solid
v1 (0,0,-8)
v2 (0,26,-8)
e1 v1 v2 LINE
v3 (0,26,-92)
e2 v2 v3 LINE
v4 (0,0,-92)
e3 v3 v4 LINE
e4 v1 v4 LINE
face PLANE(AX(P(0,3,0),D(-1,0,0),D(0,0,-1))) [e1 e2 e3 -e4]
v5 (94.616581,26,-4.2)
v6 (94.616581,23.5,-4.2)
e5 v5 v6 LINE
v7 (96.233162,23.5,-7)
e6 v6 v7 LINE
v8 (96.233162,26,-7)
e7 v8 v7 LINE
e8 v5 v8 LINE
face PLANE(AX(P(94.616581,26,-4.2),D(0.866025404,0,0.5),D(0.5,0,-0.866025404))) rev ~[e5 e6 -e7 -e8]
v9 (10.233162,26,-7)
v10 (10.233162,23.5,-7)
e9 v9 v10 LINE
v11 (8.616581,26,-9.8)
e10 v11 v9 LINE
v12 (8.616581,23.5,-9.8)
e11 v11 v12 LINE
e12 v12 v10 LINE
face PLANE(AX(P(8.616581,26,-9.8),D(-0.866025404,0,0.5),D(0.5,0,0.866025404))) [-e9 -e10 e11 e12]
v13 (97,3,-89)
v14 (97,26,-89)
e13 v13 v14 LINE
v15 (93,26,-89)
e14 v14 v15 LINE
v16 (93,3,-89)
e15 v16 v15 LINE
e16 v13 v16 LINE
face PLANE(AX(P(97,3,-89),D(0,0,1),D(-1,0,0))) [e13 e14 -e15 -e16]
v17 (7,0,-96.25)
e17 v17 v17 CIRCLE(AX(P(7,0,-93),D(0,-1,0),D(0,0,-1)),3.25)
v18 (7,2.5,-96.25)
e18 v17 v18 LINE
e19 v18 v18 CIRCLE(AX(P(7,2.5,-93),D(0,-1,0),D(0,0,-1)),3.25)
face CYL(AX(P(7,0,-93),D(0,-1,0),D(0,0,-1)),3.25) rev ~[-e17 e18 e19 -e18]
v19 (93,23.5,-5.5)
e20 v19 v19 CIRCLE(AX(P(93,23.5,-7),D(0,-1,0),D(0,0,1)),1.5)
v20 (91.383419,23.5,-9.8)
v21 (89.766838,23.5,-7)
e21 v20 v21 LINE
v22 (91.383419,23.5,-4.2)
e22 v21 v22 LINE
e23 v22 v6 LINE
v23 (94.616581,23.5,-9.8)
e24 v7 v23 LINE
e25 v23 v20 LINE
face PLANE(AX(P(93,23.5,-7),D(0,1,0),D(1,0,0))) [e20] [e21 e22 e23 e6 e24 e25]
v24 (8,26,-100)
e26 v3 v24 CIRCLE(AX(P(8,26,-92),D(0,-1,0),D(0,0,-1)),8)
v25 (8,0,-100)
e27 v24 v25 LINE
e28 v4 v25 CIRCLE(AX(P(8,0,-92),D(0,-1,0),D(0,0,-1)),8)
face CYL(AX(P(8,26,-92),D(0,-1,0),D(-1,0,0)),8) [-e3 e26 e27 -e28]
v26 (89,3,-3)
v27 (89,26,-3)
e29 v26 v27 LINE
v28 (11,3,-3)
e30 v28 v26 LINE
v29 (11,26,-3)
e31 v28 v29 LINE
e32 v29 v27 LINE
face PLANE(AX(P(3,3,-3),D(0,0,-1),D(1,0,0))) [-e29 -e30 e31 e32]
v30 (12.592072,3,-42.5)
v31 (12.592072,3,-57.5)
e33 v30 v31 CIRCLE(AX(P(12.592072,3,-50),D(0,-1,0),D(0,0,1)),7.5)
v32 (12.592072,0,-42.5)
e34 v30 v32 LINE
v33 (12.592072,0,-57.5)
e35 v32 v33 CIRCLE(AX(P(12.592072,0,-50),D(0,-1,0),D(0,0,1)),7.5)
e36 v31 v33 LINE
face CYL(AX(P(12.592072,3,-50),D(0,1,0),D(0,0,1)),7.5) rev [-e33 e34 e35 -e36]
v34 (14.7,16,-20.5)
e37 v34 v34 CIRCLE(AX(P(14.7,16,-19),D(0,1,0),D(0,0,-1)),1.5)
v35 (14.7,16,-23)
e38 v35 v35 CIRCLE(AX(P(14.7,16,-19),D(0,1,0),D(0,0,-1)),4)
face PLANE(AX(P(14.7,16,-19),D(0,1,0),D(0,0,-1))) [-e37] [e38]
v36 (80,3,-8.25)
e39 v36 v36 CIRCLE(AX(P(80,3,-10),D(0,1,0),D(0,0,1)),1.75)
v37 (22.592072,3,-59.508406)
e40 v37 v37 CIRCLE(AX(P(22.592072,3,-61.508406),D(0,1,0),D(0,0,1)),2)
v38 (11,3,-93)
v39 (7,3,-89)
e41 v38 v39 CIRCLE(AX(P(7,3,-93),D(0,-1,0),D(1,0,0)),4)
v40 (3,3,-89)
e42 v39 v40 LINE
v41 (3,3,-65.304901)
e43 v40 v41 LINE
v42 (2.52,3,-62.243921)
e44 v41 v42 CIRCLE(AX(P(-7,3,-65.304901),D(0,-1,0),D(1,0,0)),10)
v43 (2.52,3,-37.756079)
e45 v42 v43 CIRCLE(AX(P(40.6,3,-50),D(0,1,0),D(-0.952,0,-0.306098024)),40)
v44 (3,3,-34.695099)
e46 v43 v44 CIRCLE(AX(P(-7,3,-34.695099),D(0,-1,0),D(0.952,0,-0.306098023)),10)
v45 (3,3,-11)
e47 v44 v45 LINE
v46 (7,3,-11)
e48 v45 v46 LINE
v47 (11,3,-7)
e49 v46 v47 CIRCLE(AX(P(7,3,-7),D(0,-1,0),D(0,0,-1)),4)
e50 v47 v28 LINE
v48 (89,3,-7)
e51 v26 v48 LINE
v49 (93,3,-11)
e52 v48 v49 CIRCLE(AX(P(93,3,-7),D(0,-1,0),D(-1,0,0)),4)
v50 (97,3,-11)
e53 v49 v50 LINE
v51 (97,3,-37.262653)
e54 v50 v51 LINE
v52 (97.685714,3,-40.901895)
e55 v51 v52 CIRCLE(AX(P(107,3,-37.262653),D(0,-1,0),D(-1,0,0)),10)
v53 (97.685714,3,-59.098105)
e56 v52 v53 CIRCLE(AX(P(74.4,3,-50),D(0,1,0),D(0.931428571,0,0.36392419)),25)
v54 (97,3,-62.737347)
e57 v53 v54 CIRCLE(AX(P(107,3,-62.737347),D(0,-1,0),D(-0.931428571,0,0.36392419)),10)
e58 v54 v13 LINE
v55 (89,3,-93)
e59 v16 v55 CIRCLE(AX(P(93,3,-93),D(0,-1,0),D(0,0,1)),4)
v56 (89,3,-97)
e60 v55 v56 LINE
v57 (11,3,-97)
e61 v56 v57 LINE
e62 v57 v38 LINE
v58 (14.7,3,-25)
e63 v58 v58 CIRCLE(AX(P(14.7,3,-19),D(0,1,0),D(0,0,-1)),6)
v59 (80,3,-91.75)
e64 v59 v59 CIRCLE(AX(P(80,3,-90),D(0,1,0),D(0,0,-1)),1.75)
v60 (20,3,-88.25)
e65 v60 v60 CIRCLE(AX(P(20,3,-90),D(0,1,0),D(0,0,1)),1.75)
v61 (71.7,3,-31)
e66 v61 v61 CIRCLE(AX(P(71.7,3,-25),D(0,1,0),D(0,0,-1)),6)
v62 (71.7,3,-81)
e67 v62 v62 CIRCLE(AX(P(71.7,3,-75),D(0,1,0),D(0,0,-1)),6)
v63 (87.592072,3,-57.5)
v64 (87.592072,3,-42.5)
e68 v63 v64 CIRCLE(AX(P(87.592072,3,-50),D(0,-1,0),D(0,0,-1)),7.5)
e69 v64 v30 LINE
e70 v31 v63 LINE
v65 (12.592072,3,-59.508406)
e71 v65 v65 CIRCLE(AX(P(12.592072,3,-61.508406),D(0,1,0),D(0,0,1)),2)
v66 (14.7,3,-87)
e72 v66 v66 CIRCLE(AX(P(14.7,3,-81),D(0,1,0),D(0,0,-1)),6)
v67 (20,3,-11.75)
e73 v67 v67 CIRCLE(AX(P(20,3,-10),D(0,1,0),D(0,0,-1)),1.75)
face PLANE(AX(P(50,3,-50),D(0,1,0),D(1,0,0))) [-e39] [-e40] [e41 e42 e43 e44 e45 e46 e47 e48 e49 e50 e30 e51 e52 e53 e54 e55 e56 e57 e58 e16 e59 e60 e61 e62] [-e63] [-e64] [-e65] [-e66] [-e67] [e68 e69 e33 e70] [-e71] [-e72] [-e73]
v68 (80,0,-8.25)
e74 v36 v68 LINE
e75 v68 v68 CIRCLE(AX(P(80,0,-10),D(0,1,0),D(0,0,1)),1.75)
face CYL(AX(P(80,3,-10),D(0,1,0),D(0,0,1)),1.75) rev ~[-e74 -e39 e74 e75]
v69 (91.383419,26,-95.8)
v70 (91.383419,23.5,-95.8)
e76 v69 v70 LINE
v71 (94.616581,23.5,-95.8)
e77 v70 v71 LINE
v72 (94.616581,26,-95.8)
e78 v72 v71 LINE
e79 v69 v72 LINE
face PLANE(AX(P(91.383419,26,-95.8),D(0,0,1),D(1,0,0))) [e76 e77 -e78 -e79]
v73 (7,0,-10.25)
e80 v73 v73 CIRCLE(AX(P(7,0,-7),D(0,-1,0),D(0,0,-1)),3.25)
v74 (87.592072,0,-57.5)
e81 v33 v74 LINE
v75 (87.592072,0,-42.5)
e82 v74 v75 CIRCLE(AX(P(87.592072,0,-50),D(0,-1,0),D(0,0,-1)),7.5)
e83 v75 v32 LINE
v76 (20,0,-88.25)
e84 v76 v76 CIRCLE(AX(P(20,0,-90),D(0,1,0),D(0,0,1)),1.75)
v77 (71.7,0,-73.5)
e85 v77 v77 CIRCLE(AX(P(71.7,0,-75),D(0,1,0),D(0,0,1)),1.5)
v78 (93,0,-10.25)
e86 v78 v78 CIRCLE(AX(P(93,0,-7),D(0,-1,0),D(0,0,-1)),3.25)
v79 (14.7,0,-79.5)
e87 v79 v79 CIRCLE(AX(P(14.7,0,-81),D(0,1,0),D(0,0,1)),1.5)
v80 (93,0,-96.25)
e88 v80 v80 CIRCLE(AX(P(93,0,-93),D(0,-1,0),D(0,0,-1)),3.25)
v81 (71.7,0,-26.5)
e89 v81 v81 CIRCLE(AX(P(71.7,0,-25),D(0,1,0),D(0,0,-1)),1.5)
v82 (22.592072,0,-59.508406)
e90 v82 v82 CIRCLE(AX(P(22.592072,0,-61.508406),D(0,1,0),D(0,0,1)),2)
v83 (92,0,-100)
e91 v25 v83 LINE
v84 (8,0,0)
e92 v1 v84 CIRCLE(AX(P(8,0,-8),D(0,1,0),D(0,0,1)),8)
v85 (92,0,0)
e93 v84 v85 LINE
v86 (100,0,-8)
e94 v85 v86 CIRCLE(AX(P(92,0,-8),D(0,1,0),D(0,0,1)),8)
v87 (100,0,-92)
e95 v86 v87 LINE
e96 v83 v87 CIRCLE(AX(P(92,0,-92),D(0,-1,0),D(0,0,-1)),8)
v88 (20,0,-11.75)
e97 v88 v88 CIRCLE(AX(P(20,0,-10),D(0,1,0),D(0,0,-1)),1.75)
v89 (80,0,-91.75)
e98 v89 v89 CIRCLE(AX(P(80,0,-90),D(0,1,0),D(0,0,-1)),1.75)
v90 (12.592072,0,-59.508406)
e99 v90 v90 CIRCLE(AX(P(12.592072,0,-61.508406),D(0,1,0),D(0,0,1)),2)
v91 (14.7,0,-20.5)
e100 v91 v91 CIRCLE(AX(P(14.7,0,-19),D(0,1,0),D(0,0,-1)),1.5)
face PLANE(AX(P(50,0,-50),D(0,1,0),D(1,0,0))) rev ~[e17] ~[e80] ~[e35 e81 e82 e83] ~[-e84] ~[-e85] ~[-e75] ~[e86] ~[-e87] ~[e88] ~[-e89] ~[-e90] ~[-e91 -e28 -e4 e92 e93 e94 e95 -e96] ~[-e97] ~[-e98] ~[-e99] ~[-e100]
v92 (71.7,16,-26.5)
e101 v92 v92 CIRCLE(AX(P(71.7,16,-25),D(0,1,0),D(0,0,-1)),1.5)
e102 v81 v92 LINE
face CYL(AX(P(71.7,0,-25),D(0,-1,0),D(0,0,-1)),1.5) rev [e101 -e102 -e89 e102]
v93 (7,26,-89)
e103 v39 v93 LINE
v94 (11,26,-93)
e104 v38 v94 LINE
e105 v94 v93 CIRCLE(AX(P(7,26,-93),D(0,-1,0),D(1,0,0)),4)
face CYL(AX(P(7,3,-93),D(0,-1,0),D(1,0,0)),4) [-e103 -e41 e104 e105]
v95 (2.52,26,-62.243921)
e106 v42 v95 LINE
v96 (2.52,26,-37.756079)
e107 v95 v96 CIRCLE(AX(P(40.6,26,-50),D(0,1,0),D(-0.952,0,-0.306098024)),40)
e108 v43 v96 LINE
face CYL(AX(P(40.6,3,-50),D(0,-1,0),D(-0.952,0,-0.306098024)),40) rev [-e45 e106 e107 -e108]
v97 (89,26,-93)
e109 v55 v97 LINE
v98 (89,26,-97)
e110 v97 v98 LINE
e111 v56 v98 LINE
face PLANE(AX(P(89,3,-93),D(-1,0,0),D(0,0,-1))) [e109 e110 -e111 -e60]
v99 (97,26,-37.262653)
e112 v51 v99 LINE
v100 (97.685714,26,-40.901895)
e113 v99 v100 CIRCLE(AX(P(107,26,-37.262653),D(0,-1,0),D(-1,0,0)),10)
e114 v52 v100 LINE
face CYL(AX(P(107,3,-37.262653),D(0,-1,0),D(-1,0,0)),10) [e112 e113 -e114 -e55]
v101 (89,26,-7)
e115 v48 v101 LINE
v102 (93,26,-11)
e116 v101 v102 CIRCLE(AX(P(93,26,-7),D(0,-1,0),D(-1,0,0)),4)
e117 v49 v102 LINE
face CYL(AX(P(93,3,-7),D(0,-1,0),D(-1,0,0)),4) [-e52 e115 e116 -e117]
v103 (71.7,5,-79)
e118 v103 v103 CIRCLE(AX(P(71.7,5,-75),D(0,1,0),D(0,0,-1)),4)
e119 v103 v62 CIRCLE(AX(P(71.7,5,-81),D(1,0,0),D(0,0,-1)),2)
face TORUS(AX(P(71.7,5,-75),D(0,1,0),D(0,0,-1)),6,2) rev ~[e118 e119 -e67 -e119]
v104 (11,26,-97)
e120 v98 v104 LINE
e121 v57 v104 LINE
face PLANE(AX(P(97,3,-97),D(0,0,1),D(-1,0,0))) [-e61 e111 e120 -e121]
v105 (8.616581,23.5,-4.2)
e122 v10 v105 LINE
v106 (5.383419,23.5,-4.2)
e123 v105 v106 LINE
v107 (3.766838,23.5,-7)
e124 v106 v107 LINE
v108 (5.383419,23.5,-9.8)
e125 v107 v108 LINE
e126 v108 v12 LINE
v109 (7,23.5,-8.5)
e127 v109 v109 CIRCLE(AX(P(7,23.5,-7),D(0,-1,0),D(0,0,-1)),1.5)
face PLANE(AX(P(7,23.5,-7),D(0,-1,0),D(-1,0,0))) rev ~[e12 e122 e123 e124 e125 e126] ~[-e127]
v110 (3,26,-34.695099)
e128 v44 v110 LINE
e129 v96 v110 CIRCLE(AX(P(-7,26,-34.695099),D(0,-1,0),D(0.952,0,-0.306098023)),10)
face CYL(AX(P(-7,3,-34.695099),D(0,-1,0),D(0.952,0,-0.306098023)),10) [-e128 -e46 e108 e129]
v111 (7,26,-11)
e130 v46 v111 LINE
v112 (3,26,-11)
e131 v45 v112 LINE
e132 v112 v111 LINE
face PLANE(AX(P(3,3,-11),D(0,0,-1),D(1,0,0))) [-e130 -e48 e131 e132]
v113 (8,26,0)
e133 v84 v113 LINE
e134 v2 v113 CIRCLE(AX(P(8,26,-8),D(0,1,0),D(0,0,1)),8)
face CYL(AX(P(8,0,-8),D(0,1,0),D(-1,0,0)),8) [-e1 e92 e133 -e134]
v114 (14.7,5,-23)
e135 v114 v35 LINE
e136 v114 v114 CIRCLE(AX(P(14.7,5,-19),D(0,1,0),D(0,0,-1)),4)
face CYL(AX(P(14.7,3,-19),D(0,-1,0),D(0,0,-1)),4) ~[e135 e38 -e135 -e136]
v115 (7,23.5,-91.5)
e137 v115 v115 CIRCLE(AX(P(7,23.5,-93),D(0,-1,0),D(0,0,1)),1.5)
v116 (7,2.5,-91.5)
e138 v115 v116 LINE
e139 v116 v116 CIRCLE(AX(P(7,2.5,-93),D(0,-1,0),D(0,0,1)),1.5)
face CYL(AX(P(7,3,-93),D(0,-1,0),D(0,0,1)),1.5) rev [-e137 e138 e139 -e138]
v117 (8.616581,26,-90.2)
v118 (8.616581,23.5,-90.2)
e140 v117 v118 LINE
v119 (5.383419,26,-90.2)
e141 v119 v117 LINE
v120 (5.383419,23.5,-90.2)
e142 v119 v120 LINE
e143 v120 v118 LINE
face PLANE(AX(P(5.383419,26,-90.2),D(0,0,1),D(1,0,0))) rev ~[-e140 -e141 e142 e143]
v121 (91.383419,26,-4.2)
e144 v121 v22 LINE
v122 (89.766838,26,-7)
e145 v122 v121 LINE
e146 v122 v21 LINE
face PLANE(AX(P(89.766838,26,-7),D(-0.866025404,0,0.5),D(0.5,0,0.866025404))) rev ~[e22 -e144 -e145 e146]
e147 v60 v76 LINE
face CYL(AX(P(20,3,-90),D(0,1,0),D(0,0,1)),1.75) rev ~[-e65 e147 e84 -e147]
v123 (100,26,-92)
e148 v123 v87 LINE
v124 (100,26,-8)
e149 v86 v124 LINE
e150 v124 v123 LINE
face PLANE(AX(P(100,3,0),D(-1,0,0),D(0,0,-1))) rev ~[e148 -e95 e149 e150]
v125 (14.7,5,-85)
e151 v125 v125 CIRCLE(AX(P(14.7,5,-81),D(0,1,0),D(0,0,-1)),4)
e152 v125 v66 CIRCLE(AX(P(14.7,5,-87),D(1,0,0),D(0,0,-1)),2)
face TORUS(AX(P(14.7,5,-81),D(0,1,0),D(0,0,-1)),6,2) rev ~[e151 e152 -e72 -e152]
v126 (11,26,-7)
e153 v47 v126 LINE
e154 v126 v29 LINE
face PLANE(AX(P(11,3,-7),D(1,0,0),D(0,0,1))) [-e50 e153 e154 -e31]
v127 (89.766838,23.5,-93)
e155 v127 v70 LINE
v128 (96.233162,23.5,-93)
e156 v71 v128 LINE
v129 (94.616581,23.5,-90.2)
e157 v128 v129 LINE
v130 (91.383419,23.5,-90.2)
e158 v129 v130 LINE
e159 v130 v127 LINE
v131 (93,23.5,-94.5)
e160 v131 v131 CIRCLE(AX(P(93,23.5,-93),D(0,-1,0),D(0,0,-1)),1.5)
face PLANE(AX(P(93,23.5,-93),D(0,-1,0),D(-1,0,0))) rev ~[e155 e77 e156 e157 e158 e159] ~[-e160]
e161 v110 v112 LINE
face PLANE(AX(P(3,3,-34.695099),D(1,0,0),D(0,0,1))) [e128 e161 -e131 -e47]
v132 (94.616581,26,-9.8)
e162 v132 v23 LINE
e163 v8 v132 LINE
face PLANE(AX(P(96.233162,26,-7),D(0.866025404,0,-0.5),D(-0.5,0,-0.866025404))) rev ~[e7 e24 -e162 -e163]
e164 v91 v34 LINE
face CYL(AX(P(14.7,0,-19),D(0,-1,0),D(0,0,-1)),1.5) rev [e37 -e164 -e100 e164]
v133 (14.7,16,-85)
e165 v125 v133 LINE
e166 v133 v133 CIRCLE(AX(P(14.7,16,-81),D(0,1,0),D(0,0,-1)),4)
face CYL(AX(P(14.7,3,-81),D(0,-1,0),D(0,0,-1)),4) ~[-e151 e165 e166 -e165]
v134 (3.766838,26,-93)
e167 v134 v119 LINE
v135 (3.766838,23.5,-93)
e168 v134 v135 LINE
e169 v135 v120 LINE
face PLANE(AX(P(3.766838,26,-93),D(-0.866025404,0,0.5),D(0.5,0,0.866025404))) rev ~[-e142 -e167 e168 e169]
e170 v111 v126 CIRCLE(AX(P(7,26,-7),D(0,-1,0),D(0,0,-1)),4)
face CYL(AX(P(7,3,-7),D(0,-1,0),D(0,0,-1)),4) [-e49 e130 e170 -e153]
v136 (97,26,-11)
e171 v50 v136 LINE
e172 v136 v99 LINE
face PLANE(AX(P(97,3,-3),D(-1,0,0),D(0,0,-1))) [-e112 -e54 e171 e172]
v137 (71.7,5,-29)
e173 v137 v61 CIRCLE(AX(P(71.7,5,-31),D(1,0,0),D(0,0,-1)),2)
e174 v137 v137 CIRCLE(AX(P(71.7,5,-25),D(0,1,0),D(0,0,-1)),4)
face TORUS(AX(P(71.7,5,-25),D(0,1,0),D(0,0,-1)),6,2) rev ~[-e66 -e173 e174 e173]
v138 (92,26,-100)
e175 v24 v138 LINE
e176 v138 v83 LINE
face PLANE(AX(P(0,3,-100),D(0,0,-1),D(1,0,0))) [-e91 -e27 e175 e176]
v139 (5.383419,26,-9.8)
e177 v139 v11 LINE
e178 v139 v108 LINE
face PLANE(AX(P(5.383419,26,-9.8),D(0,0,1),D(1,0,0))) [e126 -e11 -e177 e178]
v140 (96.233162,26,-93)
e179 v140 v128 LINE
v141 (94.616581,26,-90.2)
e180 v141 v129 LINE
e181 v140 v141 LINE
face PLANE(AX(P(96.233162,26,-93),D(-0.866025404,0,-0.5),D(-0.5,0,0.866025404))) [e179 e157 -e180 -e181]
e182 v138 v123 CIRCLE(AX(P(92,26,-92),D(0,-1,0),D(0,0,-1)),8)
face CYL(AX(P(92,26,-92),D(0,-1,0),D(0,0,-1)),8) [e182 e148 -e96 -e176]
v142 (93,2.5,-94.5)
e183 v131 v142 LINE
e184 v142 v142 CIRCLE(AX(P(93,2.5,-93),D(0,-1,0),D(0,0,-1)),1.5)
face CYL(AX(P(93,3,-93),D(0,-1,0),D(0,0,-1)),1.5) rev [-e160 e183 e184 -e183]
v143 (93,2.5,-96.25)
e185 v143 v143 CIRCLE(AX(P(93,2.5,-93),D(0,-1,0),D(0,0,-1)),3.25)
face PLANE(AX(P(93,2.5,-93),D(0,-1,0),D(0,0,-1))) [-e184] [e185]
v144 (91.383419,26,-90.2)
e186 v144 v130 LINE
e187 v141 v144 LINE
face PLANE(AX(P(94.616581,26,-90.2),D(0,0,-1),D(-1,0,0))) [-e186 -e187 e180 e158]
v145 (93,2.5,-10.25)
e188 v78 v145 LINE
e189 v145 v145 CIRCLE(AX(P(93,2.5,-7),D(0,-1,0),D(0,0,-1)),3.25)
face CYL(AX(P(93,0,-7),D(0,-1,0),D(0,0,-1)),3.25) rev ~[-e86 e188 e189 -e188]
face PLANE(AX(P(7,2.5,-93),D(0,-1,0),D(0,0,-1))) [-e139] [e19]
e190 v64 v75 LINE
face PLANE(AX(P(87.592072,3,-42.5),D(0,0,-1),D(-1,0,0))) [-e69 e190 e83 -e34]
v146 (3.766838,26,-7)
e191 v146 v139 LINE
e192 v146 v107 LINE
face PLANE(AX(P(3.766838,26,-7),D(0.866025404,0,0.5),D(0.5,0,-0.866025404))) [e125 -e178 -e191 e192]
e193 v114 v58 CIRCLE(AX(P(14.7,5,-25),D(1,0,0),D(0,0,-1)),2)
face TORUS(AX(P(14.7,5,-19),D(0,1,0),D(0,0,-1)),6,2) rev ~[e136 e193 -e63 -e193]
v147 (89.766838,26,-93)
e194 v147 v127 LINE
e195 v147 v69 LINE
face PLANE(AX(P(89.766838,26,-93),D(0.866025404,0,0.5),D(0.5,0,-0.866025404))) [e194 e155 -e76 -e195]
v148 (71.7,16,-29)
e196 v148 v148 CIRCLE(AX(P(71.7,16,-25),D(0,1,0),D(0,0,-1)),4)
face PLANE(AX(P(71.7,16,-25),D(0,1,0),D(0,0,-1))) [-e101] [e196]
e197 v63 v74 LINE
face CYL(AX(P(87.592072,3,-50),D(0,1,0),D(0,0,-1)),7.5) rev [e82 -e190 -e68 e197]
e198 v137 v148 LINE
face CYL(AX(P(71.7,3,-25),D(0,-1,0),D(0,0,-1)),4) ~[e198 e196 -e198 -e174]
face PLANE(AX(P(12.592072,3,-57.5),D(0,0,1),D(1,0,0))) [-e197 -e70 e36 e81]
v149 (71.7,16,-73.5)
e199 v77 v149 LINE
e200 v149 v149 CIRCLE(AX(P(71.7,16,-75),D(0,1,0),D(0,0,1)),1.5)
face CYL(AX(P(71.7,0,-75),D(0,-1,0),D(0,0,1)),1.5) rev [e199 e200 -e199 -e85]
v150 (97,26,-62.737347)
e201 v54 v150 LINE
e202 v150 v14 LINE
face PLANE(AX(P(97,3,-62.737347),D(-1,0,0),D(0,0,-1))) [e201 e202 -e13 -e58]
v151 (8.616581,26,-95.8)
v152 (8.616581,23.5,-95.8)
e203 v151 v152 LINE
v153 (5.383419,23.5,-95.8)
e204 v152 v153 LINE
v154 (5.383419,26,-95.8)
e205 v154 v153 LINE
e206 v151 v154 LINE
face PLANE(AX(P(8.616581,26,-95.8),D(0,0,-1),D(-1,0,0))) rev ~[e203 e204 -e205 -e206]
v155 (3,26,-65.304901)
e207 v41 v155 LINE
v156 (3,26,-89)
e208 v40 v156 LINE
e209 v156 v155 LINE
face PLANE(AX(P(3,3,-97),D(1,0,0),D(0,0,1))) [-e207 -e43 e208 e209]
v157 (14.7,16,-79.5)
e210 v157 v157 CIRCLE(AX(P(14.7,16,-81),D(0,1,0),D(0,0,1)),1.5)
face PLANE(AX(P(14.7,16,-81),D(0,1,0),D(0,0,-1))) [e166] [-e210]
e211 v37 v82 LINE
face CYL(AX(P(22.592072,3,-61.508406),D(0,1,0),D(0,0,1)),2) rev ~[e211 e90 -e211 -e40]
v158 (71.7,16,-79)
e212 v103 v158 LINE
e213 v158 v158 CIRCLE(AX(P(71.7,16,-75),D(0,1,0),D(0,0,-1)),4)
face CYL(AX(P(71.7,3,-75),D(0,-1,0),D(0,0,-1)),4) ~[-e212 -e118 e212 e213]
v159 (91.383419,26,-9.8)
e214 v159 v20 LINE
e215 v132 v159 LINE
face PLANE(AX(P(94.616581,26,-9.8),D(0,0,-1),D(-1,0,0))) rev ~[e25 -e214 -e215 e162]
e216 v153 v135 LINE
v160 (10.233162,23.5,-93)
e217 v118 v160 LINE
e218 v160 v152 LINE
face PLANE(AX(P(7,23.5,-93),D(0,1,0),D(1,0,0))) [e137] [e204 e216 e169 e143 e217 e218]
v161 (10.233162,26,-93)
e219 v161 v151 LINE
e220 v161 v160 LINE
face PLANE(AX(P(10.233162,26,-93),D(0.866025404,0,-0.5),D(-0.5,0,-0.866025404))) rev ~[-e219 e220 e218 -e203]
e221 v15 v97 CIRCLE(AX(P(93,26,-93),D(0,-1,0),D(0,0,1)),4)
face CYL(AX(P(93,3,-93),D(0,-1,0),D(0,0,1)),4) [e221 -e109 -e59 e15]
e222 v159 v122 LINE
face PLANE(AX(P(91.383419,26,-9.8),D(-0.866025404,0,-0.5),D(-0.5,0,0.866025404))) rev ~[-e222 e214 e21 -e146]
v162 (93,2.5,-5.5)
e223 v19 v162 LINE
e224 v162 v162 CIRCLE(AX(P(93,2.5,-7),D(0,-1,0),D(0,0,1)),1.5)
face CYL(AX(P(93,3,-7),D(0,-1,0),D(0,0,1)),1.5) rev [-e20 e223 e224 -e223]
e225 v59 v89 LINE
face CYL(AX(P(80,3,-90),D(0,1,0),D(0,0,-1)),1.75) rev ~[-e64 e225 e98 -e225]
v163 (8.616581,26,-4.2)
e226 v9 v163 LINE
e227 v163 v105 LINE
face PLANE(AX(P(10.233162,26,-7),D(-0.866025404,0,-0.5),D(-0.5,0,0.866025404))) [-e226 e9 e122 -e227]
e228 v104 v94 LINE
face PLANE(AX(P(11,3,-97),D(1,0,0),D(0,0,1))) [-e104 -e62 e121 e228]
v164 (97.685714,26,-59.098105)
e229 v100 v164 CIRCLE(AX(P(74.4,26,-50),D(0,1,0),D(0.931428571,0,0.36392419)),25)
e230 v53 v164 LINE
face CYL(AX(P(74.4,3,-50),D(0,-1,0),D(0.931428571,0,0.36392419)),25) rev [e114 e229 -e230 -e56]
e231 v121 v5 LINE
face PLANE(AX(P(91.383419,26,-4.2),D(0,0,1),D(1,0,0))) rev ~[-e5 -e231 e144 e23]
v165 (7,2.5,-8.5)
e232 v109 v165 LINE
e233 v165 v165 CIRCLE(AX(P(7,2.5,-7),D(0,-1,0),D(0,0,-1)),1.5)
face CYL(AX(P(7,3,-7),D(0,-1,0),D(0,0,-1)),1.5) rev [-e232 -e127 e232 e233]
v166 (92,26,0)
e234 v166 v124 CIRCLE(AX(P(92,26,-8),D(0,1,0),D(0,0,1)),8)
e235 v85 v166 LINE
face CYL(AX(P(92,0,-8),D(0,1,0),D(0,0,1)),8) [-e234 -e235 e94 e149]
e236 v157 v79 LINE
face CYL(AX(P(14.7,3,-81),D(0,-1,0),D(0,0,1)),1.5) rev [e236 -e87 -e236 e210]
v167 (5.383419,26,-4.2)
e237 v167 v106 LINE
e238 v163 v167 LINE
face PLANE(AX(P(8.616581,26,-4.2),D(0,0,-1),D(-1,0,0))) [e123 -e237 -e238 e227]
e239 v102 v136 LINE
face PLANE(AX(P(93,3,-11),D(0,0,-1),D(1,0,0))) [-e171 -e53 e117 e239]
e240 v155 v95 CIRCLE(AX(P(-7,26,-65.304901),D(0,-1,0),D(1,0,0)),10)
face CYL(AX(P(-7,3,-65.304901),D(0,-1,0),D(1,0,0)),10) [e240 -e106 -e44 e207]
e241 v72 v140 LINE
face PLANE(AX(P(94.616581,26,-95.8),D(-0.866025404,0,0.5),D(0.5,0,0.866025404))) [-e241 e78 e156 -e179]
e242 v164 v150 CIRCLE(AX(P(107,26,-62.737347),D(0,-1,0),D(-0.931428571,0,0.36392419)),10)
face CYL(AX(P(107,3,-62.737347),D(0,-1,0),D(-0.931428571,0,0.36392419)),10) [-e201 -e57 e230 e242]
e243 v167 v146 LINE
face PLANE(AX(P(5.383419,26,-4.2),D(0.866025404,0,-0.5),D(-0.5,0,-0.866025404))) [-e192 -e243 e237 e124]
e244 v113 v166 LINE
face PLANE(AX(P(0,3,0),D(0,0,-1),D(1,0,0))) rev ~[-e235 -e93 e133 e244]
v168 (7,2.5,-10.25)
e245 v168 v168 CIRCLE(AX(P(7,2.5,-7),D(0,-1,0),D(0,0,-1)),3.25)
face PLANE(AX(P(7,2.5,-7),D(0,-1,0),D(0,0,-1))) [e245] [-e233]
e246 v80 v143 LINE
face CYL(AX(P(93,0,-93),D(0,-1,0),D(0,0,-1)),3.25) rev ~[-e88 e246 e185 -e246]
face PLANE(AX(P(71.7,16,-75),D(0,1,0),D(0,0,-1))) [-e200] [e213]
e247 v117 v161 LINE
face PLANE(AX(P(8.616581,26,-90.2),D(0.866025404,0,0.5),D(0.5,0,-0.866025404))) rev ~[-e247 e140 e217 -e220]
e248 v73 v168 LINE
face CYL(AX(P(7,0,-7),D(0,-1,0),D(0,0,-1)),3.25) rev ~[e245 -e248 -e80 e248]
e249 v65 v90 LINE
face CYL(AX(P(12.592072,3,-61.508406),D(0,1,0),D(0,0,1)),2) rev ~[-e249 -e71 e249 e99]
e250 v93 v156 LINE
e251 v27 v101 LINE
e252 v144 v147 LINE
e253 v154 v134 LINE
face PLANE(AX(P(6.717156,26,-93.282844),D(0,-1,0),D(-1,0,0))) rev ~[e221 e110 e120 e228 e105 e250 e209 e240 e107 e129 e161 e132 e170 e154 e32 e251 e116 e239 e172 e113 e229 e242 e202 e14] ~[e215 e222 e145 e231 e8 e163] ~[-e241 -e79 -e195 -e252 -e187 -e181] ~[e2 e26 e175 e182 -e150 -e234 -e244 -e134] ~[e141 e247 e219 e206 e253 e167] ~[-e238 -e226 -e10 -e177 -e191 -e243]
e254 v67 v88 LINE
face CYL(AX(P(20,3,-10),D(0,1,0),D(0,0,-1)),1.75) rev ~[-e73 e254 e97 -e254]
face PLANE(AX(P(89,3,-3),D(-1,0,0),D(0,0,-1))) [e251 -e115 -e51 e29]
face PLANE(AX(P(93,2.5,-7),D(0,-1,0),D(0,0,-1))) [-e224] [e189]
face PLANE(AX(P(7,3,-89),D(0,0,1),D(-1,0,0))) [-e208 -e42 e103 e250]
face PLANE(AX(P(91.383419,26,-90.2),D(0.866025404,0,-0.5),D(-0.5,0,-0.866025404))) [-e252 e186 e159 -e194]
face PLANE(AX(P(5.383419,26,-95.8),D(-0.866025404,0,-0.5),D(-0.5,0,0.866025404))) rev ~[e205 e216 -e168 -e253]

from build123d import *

# Parameters (mm, degrees)
SKETCH_1_W          = 100
SKETCH_1_H          = 100
SKETCH_1_R          = 1.5
EXTRUDE_1_DEPTH     = 3
SKETCH_4_W          = 100
SKETCH_4_H          = 100
EXTRUDE_4_DEPTH     = 23
SKETCH_5_R          = 4
SKETCH_5_R_2        = 1.5
EXTRUDE_5_DEPTH     = 13
FILLET_2_R          = 2
FILLET_3_R          = 8
SKETCH_7_R          = 1.5
EXTRUDE_6_DEPTH     = 23
SKETCH_8_R          = 1.75
SKETCH_8_R_2        = 2
CUT_EXTRUDE_2_DEPTH = 3
SKETCH_9_R          = 3.25
CUT_EXTRUDE_3_DEPTH = 2.5
CUT_EXTRUDE_4_DEPTH = 2.5


with BuildPart() as part:
    # Эскиз1 → Бобышка-Вытянуть1 (new body)
    with BuildSketch(Plane(origin=(0, 0, 0), x_dir=(1, 0, 0), z_dir=(0, 1, 0))):
        with Locations((50, 50)):
            Rectangle(SKETCH_1_W, SKETCH_1_H)
        with Locations(Location((14.7, 81, 0), (0, 0, 270))):
            Circle(SKETCH_1_R, mode=Mode.SUBTRACT)
        with Locations(Location((71.7, 75, 0), (0, 0, 270))):
            Circle(SKETCH_1_R, mode=Mode.SUBTRACT)
        with Locations(Location((71.7, 25, 0), (0, 0, 90))):
            Circle(SKETCH_1_R, mode=Mode.SUBTRACT)
        with Locations(Location((14.7, 19, 0), (0, 0, 90))):
            Circle(SKETCH_1_R, mode=Mode.SUBTRACT)
        with Locations(Location((7, 93, 0), (0, 0, 270))):
            Circle(SKETCH_1_R, mode=Mode.SUBTRACT)
        with Locations(Location((93, 93, 0), (0, 0, 90))):
            Circle(SKETCH_1_R, mode=Mode.SUBTRACT)
        with Locations(Location((93, 7, 0), (0, 0, 270))):
            Circle(SKETCH_1_R, mode=Mode.SUBTRACT)
        with Locations(Location((7, 7, 0), (0, 0, 90))):
            Circle(SKETCH_1_R, mode=Mode.SUBTRACT)
    extrude(amount=EXTRUDE_1_DEPTH)

    # Эскиз4 → Бобышка-Вытянуть4 (add)
    with BuildSketch(Plane(origin=(0, 3, 0), x_dir=(1, 0, 0), z_dir=(0, 1, 0))):
        with Locations((50, 50)):
            Rectangle(SKETCH_4_W, SKETCH_4_H)
        with BuildLine():
            Line((97, 97), (3, 97))
            Line((3, 97), (3, 65.304901176))
            ThreePointArc((3, 65.304901176), (2.879271228, 63.755707837), (2.52, 62.243920941))
            ThreePointArc((2.52, 62.243920941), (0.6, 50), (2.52, 37.756079059))
            ThreePointArc((2.52, 37.756079059), (2.879271228, 36.244292163), (3, 34.695098824))
            Line((3, 34.695098824), (3, 3))
            Line((3, 3), (97, 3))
            Line((97, 3), (97, 37.262653338))
            ThreePointArc((97, 37.262653338), (97.172923702, 39.114293537), (97.685714286, 40.901895241))
            ThreePointArc((97.685714286, 40.901895241), (99.4, 50), (97.685714286, 59.098104759))
            ThreePointArc((97.685714286, 59.098104759), (97.172923702, 60.885706463), (97, 62.737346662))
            Line((97, 62.737346662), (97, 97))
        make_face(mode=Mode.SUBTRACT)
    extrude(amount=EXTRUDE_4_DEPTH)

    # Эскиз5 → Бобышка-Вытянуть5 (add)
    # profile 1 of 4: a face of its own
    with BuildSketch(Plane(origin=(0, 3, 0), x_dir=(1, 0, 0), z_dir=(0, 1, 0))):
        with Locations(Location((14.7, 81, 0), (0, 0, 90))):
            Circle(SKETCH_5_R)
        with Locations(Location((14.7, 81, 0), (0, 0, 270))):
            Circle(SKETCH_5_R_2, mode=Mode.SUBTRACT)
    # profile 2 of 4: a face of its own
    with BuildSketch(Plane(origin=(0, 3, 0), x_dir=(1, 0, 0), z_dir=(0, 1, 0))):
        with Locations(Location((71.7, 75, 0), (0, 0, 90))):
            Circle(SKETCH_5_R)
        with Locations(Location((71.7, 75, 0), (0, 0, 270))):
            Circle(SKETCH_5_R_2, mode=Mode.SUBTRACT)
    # profile 3 of 4: a face of its own
    with BuildSketch(Plane(origin=(0, 3, 0), x_dir=(1, 0, 0), z_dir=(0, 1, 0))):
        with Locations(Location((71.7, 25, 0), (0, 0, 90))):
            Circle(SKETCH_5_R)
        with Locations(Location((71.7, 25, 0), (0, 0, 90))):
            Circle(SKETCH_5_R_2, mode=Mode.SUBTRACT)
    # profile 4 of 4: a face of its own
    with BuildSketch(Plane(origin=(0, 3, 0), x_dir=(1, 0, 0), z_dir=(0, 1, 0))):
        with Locations(Location((14.7, 19, 0), (0, 0, 90))):
            Circle(SKETCH_5_R)
        with Locations(Location((14.7, 19, 0), (0, 0, 90))):
            Circle(SKETCH_5_R_2, mode=Mode.SUBTRACT)
    extrude(amount=EXTRUDE_5_DEPTH)

    # Скругление2
    fillet_2_edges = [part.edges().sort_by_distance(p)[0] for p in [
        (71.7, 3, -21),
        (14.7, 3, -15),
        (14.7, 3, -77),
        (71.7, 3, -71),
    ]]
    fillet(fillet_2_edges, radius=FILLET_2_R)

    # Скругление3
    fillet_3_edges = [part.edges().sort_by_distance(p)[0] for p in [
        (0, 13, -100),
        (100, 13, -100),
        (100, 13, 0),
        (0, 13, 0),
    ]]
    fillet(fillet_3_edges, radius=FILLET_3_R)

    # Эскиз7 → Бобышка-Вытянуть6 (add)
    # profile 1 of 4: a face of its own
    with BuildSketch(Plane(origin=(0, 3, 0), x_dir=(1, 0, 0), z_dir=(0, 1, 0))):
        with BuildLine():
            Line((3, 89), (3, 97))
            Line((3, 97), (11, 97))
            Line((11, 97), (11, 93))
            ThreePointArc((11, 93), (9.828427125, 90.171572875), (7, 89))
            Line((7, 89), (3, 89))
        make_face()
        with Locations(Location((7, 93, 0), (0, 0, 270))):
            Circle(SKETCH_7_R, mode=Mode.SUBTRACT)
    # profile 2 of 4: a face of its own
    with BuildSketch(Plane(origin=(0, 3, 0), x_dir=(1, 0, 0), z_dir=(0, 1, 0))):
        with BuildLine():
            Line((89, 93), (89, 97))
            Line((89, 97), (97, 97))
            Line((97, 97), (97, 89))
            Line((97, 89), (93, 89))
            ThreePointArc((93, 89), (90.171572875, 90.171572875), (89, 93))
        make_face()
        with Locations(Location((93, 93, 0), (0, 0, 90))):
            Circle(SKETCH_7_R, mode=Mode.SUBTRACT)
    # profile 3 of 4: a face of its own
    with BuildSketch(Plane(origin=(0, 3, 0), x_dir=(1, 0, 0), z_dir=(0, 1, 0))):
        with BuildLine():
            Line((97, 11), (97, 3))
            Line((97, 3), (89, 3))
            Line((89, 3), (89, 7))
            ThreePointArc((89, 7), (90.171572875, 9.828427125), (93, 11))
            Line((93, 11), (97, 11))
        make_face()
        with Locations(Location((93, 7, 0), (0, 0, 270))):
            Circle(SKETCH_7_R, mode=Mode.SUBTRACT)
    # profile 4 of 4: a face of its own
    with BuildSketch(Plane(origin=(0, 3, 0), x_dir=(1, 0, 0), z_dir=(0, 1, 0))):
        with BuildLine():
            Line((11, 7), (11, 3))
            Line((11, 3), (3, 3))
            Line((3, 3), (3, 11))
            Line((3, 11), (7, 11))
            ThreePointArc((7, 11), (9.828427125, 9.828427125), (11, 7))
        make_face()
        with Locations(Location((7, 7, 0), (0, 0, 90))):
            Circle(SKETCH_7_R, mode=Mode.SUBTRACT)
    extrude(amount=EXTRUDE_6_DEPTH)

    # Эскиз8 → Вырез-Вытянуть2 (cut)
    with BuildSketch(Plane(origin=(0, 3, 0), x_dir=(1, 0, 0), z_dir=(0, 1, 0))):
        with Locations(Location((20, 90, 0), (0, 0, 270))):
            Circle(SKETCH_8_R)
        with Locations(Location((80, 90, 0), (0, 0, 90))):
            Circle(SKETCH_8_R)
        with Locations(Location((80, 10, 0), (0, 0, 270))):
            Circle(SKETCH_8_R)
        with Locations(Location((20, 10, 0), (0, 0, 90))):
            Circle(SKETCH_8_R)
        with Locations(Location((22.592071992, 61.508405751, 0), (0, 0, 270))):
            Circle(SKETCH_8_R_2)
        with Locations(Location((12.592071992, 61.508405751, 0), (0, 0, 270))):
            Circle(SKETCH_8_R_2)
        with BuildLine():
            Line((12.592071992, 57.5), (87.592071992, 57.5))
            ThreePointArc((87.592071992, 57.5), (95.092071992, 50), (87.592071992, 42.5))
            Line((87.592071992, 42.5), (12.592071992, 42.5))
            ThreePointArc((12.592071992, 42.5), (5.092071992, 50), (12.592071992, 57.5))
        make_face()
    extrude(amount=-CUT_EXTRUDE_2_DEPTH, mode=Mode.SUBTRACT)

    # Эскиз9 → Вырез-Вытянуть3 (cut)
    with BuildSketch(Plane.XZ):
        with Locations(Location((7, -7, 0), (0, 0, 270))):
            Circle(SKETCH_9_R)
        with Locations(Location((93, -7, 0), (0, 0, 270))):
            Circle(SKETCH_9_R)
        with Locations(Location((93, -93, 0), (0, 0, 270))):
            Circle(SKETCH_9_R)
        with Locations(Location((7, -93, 0), (0, 0, 270))):
            Circle(SKETCH_9_R)
    extrude(amount=-CUT_EXTRUDE_3_DEPTH, mode=Mode.SUBTRACT)

    # Эскиз10 → Вырез-Вытянуть4 (cut)
    with BuildSketch(Plane(origin=(0, 26, 0), x_dir=(1, 0, 0), z_dir=(0, 1, 0))):
        Polygon((8.616580754, 90.2), (10.233161507, 93), (8.616580754, 95.8), (5.383419246, 95.8), (3.766838493, 93), (5.383419246, 90.2), align=None)
        Polygon((94.616580754, 90.2), (91.383419246, 90.2), (89.766838493, 93), (91.383419246, 95.8), (94.616580754, 95.8), (96.233161507, 93), align=None)
        Polygon((91.383419246, 9.8), (89.766838493, 7), (91.383419246, 4.2), (94.616580754, 4.2), (96.233161507, 7), (94.616580754, 9.8), align=None)
        Polygon((5.383419246, 9.8), (8.616580754, 9.8), (10.233161507, 7), (8.616580754, 4.2), (5.383419246, 4.2), (3.766838493, 7), align=None)
    extrude(amount=-CUT_EXTRUDE_4_DEPTH, mode=Mode.SUBTRACT)


solid = part.part
